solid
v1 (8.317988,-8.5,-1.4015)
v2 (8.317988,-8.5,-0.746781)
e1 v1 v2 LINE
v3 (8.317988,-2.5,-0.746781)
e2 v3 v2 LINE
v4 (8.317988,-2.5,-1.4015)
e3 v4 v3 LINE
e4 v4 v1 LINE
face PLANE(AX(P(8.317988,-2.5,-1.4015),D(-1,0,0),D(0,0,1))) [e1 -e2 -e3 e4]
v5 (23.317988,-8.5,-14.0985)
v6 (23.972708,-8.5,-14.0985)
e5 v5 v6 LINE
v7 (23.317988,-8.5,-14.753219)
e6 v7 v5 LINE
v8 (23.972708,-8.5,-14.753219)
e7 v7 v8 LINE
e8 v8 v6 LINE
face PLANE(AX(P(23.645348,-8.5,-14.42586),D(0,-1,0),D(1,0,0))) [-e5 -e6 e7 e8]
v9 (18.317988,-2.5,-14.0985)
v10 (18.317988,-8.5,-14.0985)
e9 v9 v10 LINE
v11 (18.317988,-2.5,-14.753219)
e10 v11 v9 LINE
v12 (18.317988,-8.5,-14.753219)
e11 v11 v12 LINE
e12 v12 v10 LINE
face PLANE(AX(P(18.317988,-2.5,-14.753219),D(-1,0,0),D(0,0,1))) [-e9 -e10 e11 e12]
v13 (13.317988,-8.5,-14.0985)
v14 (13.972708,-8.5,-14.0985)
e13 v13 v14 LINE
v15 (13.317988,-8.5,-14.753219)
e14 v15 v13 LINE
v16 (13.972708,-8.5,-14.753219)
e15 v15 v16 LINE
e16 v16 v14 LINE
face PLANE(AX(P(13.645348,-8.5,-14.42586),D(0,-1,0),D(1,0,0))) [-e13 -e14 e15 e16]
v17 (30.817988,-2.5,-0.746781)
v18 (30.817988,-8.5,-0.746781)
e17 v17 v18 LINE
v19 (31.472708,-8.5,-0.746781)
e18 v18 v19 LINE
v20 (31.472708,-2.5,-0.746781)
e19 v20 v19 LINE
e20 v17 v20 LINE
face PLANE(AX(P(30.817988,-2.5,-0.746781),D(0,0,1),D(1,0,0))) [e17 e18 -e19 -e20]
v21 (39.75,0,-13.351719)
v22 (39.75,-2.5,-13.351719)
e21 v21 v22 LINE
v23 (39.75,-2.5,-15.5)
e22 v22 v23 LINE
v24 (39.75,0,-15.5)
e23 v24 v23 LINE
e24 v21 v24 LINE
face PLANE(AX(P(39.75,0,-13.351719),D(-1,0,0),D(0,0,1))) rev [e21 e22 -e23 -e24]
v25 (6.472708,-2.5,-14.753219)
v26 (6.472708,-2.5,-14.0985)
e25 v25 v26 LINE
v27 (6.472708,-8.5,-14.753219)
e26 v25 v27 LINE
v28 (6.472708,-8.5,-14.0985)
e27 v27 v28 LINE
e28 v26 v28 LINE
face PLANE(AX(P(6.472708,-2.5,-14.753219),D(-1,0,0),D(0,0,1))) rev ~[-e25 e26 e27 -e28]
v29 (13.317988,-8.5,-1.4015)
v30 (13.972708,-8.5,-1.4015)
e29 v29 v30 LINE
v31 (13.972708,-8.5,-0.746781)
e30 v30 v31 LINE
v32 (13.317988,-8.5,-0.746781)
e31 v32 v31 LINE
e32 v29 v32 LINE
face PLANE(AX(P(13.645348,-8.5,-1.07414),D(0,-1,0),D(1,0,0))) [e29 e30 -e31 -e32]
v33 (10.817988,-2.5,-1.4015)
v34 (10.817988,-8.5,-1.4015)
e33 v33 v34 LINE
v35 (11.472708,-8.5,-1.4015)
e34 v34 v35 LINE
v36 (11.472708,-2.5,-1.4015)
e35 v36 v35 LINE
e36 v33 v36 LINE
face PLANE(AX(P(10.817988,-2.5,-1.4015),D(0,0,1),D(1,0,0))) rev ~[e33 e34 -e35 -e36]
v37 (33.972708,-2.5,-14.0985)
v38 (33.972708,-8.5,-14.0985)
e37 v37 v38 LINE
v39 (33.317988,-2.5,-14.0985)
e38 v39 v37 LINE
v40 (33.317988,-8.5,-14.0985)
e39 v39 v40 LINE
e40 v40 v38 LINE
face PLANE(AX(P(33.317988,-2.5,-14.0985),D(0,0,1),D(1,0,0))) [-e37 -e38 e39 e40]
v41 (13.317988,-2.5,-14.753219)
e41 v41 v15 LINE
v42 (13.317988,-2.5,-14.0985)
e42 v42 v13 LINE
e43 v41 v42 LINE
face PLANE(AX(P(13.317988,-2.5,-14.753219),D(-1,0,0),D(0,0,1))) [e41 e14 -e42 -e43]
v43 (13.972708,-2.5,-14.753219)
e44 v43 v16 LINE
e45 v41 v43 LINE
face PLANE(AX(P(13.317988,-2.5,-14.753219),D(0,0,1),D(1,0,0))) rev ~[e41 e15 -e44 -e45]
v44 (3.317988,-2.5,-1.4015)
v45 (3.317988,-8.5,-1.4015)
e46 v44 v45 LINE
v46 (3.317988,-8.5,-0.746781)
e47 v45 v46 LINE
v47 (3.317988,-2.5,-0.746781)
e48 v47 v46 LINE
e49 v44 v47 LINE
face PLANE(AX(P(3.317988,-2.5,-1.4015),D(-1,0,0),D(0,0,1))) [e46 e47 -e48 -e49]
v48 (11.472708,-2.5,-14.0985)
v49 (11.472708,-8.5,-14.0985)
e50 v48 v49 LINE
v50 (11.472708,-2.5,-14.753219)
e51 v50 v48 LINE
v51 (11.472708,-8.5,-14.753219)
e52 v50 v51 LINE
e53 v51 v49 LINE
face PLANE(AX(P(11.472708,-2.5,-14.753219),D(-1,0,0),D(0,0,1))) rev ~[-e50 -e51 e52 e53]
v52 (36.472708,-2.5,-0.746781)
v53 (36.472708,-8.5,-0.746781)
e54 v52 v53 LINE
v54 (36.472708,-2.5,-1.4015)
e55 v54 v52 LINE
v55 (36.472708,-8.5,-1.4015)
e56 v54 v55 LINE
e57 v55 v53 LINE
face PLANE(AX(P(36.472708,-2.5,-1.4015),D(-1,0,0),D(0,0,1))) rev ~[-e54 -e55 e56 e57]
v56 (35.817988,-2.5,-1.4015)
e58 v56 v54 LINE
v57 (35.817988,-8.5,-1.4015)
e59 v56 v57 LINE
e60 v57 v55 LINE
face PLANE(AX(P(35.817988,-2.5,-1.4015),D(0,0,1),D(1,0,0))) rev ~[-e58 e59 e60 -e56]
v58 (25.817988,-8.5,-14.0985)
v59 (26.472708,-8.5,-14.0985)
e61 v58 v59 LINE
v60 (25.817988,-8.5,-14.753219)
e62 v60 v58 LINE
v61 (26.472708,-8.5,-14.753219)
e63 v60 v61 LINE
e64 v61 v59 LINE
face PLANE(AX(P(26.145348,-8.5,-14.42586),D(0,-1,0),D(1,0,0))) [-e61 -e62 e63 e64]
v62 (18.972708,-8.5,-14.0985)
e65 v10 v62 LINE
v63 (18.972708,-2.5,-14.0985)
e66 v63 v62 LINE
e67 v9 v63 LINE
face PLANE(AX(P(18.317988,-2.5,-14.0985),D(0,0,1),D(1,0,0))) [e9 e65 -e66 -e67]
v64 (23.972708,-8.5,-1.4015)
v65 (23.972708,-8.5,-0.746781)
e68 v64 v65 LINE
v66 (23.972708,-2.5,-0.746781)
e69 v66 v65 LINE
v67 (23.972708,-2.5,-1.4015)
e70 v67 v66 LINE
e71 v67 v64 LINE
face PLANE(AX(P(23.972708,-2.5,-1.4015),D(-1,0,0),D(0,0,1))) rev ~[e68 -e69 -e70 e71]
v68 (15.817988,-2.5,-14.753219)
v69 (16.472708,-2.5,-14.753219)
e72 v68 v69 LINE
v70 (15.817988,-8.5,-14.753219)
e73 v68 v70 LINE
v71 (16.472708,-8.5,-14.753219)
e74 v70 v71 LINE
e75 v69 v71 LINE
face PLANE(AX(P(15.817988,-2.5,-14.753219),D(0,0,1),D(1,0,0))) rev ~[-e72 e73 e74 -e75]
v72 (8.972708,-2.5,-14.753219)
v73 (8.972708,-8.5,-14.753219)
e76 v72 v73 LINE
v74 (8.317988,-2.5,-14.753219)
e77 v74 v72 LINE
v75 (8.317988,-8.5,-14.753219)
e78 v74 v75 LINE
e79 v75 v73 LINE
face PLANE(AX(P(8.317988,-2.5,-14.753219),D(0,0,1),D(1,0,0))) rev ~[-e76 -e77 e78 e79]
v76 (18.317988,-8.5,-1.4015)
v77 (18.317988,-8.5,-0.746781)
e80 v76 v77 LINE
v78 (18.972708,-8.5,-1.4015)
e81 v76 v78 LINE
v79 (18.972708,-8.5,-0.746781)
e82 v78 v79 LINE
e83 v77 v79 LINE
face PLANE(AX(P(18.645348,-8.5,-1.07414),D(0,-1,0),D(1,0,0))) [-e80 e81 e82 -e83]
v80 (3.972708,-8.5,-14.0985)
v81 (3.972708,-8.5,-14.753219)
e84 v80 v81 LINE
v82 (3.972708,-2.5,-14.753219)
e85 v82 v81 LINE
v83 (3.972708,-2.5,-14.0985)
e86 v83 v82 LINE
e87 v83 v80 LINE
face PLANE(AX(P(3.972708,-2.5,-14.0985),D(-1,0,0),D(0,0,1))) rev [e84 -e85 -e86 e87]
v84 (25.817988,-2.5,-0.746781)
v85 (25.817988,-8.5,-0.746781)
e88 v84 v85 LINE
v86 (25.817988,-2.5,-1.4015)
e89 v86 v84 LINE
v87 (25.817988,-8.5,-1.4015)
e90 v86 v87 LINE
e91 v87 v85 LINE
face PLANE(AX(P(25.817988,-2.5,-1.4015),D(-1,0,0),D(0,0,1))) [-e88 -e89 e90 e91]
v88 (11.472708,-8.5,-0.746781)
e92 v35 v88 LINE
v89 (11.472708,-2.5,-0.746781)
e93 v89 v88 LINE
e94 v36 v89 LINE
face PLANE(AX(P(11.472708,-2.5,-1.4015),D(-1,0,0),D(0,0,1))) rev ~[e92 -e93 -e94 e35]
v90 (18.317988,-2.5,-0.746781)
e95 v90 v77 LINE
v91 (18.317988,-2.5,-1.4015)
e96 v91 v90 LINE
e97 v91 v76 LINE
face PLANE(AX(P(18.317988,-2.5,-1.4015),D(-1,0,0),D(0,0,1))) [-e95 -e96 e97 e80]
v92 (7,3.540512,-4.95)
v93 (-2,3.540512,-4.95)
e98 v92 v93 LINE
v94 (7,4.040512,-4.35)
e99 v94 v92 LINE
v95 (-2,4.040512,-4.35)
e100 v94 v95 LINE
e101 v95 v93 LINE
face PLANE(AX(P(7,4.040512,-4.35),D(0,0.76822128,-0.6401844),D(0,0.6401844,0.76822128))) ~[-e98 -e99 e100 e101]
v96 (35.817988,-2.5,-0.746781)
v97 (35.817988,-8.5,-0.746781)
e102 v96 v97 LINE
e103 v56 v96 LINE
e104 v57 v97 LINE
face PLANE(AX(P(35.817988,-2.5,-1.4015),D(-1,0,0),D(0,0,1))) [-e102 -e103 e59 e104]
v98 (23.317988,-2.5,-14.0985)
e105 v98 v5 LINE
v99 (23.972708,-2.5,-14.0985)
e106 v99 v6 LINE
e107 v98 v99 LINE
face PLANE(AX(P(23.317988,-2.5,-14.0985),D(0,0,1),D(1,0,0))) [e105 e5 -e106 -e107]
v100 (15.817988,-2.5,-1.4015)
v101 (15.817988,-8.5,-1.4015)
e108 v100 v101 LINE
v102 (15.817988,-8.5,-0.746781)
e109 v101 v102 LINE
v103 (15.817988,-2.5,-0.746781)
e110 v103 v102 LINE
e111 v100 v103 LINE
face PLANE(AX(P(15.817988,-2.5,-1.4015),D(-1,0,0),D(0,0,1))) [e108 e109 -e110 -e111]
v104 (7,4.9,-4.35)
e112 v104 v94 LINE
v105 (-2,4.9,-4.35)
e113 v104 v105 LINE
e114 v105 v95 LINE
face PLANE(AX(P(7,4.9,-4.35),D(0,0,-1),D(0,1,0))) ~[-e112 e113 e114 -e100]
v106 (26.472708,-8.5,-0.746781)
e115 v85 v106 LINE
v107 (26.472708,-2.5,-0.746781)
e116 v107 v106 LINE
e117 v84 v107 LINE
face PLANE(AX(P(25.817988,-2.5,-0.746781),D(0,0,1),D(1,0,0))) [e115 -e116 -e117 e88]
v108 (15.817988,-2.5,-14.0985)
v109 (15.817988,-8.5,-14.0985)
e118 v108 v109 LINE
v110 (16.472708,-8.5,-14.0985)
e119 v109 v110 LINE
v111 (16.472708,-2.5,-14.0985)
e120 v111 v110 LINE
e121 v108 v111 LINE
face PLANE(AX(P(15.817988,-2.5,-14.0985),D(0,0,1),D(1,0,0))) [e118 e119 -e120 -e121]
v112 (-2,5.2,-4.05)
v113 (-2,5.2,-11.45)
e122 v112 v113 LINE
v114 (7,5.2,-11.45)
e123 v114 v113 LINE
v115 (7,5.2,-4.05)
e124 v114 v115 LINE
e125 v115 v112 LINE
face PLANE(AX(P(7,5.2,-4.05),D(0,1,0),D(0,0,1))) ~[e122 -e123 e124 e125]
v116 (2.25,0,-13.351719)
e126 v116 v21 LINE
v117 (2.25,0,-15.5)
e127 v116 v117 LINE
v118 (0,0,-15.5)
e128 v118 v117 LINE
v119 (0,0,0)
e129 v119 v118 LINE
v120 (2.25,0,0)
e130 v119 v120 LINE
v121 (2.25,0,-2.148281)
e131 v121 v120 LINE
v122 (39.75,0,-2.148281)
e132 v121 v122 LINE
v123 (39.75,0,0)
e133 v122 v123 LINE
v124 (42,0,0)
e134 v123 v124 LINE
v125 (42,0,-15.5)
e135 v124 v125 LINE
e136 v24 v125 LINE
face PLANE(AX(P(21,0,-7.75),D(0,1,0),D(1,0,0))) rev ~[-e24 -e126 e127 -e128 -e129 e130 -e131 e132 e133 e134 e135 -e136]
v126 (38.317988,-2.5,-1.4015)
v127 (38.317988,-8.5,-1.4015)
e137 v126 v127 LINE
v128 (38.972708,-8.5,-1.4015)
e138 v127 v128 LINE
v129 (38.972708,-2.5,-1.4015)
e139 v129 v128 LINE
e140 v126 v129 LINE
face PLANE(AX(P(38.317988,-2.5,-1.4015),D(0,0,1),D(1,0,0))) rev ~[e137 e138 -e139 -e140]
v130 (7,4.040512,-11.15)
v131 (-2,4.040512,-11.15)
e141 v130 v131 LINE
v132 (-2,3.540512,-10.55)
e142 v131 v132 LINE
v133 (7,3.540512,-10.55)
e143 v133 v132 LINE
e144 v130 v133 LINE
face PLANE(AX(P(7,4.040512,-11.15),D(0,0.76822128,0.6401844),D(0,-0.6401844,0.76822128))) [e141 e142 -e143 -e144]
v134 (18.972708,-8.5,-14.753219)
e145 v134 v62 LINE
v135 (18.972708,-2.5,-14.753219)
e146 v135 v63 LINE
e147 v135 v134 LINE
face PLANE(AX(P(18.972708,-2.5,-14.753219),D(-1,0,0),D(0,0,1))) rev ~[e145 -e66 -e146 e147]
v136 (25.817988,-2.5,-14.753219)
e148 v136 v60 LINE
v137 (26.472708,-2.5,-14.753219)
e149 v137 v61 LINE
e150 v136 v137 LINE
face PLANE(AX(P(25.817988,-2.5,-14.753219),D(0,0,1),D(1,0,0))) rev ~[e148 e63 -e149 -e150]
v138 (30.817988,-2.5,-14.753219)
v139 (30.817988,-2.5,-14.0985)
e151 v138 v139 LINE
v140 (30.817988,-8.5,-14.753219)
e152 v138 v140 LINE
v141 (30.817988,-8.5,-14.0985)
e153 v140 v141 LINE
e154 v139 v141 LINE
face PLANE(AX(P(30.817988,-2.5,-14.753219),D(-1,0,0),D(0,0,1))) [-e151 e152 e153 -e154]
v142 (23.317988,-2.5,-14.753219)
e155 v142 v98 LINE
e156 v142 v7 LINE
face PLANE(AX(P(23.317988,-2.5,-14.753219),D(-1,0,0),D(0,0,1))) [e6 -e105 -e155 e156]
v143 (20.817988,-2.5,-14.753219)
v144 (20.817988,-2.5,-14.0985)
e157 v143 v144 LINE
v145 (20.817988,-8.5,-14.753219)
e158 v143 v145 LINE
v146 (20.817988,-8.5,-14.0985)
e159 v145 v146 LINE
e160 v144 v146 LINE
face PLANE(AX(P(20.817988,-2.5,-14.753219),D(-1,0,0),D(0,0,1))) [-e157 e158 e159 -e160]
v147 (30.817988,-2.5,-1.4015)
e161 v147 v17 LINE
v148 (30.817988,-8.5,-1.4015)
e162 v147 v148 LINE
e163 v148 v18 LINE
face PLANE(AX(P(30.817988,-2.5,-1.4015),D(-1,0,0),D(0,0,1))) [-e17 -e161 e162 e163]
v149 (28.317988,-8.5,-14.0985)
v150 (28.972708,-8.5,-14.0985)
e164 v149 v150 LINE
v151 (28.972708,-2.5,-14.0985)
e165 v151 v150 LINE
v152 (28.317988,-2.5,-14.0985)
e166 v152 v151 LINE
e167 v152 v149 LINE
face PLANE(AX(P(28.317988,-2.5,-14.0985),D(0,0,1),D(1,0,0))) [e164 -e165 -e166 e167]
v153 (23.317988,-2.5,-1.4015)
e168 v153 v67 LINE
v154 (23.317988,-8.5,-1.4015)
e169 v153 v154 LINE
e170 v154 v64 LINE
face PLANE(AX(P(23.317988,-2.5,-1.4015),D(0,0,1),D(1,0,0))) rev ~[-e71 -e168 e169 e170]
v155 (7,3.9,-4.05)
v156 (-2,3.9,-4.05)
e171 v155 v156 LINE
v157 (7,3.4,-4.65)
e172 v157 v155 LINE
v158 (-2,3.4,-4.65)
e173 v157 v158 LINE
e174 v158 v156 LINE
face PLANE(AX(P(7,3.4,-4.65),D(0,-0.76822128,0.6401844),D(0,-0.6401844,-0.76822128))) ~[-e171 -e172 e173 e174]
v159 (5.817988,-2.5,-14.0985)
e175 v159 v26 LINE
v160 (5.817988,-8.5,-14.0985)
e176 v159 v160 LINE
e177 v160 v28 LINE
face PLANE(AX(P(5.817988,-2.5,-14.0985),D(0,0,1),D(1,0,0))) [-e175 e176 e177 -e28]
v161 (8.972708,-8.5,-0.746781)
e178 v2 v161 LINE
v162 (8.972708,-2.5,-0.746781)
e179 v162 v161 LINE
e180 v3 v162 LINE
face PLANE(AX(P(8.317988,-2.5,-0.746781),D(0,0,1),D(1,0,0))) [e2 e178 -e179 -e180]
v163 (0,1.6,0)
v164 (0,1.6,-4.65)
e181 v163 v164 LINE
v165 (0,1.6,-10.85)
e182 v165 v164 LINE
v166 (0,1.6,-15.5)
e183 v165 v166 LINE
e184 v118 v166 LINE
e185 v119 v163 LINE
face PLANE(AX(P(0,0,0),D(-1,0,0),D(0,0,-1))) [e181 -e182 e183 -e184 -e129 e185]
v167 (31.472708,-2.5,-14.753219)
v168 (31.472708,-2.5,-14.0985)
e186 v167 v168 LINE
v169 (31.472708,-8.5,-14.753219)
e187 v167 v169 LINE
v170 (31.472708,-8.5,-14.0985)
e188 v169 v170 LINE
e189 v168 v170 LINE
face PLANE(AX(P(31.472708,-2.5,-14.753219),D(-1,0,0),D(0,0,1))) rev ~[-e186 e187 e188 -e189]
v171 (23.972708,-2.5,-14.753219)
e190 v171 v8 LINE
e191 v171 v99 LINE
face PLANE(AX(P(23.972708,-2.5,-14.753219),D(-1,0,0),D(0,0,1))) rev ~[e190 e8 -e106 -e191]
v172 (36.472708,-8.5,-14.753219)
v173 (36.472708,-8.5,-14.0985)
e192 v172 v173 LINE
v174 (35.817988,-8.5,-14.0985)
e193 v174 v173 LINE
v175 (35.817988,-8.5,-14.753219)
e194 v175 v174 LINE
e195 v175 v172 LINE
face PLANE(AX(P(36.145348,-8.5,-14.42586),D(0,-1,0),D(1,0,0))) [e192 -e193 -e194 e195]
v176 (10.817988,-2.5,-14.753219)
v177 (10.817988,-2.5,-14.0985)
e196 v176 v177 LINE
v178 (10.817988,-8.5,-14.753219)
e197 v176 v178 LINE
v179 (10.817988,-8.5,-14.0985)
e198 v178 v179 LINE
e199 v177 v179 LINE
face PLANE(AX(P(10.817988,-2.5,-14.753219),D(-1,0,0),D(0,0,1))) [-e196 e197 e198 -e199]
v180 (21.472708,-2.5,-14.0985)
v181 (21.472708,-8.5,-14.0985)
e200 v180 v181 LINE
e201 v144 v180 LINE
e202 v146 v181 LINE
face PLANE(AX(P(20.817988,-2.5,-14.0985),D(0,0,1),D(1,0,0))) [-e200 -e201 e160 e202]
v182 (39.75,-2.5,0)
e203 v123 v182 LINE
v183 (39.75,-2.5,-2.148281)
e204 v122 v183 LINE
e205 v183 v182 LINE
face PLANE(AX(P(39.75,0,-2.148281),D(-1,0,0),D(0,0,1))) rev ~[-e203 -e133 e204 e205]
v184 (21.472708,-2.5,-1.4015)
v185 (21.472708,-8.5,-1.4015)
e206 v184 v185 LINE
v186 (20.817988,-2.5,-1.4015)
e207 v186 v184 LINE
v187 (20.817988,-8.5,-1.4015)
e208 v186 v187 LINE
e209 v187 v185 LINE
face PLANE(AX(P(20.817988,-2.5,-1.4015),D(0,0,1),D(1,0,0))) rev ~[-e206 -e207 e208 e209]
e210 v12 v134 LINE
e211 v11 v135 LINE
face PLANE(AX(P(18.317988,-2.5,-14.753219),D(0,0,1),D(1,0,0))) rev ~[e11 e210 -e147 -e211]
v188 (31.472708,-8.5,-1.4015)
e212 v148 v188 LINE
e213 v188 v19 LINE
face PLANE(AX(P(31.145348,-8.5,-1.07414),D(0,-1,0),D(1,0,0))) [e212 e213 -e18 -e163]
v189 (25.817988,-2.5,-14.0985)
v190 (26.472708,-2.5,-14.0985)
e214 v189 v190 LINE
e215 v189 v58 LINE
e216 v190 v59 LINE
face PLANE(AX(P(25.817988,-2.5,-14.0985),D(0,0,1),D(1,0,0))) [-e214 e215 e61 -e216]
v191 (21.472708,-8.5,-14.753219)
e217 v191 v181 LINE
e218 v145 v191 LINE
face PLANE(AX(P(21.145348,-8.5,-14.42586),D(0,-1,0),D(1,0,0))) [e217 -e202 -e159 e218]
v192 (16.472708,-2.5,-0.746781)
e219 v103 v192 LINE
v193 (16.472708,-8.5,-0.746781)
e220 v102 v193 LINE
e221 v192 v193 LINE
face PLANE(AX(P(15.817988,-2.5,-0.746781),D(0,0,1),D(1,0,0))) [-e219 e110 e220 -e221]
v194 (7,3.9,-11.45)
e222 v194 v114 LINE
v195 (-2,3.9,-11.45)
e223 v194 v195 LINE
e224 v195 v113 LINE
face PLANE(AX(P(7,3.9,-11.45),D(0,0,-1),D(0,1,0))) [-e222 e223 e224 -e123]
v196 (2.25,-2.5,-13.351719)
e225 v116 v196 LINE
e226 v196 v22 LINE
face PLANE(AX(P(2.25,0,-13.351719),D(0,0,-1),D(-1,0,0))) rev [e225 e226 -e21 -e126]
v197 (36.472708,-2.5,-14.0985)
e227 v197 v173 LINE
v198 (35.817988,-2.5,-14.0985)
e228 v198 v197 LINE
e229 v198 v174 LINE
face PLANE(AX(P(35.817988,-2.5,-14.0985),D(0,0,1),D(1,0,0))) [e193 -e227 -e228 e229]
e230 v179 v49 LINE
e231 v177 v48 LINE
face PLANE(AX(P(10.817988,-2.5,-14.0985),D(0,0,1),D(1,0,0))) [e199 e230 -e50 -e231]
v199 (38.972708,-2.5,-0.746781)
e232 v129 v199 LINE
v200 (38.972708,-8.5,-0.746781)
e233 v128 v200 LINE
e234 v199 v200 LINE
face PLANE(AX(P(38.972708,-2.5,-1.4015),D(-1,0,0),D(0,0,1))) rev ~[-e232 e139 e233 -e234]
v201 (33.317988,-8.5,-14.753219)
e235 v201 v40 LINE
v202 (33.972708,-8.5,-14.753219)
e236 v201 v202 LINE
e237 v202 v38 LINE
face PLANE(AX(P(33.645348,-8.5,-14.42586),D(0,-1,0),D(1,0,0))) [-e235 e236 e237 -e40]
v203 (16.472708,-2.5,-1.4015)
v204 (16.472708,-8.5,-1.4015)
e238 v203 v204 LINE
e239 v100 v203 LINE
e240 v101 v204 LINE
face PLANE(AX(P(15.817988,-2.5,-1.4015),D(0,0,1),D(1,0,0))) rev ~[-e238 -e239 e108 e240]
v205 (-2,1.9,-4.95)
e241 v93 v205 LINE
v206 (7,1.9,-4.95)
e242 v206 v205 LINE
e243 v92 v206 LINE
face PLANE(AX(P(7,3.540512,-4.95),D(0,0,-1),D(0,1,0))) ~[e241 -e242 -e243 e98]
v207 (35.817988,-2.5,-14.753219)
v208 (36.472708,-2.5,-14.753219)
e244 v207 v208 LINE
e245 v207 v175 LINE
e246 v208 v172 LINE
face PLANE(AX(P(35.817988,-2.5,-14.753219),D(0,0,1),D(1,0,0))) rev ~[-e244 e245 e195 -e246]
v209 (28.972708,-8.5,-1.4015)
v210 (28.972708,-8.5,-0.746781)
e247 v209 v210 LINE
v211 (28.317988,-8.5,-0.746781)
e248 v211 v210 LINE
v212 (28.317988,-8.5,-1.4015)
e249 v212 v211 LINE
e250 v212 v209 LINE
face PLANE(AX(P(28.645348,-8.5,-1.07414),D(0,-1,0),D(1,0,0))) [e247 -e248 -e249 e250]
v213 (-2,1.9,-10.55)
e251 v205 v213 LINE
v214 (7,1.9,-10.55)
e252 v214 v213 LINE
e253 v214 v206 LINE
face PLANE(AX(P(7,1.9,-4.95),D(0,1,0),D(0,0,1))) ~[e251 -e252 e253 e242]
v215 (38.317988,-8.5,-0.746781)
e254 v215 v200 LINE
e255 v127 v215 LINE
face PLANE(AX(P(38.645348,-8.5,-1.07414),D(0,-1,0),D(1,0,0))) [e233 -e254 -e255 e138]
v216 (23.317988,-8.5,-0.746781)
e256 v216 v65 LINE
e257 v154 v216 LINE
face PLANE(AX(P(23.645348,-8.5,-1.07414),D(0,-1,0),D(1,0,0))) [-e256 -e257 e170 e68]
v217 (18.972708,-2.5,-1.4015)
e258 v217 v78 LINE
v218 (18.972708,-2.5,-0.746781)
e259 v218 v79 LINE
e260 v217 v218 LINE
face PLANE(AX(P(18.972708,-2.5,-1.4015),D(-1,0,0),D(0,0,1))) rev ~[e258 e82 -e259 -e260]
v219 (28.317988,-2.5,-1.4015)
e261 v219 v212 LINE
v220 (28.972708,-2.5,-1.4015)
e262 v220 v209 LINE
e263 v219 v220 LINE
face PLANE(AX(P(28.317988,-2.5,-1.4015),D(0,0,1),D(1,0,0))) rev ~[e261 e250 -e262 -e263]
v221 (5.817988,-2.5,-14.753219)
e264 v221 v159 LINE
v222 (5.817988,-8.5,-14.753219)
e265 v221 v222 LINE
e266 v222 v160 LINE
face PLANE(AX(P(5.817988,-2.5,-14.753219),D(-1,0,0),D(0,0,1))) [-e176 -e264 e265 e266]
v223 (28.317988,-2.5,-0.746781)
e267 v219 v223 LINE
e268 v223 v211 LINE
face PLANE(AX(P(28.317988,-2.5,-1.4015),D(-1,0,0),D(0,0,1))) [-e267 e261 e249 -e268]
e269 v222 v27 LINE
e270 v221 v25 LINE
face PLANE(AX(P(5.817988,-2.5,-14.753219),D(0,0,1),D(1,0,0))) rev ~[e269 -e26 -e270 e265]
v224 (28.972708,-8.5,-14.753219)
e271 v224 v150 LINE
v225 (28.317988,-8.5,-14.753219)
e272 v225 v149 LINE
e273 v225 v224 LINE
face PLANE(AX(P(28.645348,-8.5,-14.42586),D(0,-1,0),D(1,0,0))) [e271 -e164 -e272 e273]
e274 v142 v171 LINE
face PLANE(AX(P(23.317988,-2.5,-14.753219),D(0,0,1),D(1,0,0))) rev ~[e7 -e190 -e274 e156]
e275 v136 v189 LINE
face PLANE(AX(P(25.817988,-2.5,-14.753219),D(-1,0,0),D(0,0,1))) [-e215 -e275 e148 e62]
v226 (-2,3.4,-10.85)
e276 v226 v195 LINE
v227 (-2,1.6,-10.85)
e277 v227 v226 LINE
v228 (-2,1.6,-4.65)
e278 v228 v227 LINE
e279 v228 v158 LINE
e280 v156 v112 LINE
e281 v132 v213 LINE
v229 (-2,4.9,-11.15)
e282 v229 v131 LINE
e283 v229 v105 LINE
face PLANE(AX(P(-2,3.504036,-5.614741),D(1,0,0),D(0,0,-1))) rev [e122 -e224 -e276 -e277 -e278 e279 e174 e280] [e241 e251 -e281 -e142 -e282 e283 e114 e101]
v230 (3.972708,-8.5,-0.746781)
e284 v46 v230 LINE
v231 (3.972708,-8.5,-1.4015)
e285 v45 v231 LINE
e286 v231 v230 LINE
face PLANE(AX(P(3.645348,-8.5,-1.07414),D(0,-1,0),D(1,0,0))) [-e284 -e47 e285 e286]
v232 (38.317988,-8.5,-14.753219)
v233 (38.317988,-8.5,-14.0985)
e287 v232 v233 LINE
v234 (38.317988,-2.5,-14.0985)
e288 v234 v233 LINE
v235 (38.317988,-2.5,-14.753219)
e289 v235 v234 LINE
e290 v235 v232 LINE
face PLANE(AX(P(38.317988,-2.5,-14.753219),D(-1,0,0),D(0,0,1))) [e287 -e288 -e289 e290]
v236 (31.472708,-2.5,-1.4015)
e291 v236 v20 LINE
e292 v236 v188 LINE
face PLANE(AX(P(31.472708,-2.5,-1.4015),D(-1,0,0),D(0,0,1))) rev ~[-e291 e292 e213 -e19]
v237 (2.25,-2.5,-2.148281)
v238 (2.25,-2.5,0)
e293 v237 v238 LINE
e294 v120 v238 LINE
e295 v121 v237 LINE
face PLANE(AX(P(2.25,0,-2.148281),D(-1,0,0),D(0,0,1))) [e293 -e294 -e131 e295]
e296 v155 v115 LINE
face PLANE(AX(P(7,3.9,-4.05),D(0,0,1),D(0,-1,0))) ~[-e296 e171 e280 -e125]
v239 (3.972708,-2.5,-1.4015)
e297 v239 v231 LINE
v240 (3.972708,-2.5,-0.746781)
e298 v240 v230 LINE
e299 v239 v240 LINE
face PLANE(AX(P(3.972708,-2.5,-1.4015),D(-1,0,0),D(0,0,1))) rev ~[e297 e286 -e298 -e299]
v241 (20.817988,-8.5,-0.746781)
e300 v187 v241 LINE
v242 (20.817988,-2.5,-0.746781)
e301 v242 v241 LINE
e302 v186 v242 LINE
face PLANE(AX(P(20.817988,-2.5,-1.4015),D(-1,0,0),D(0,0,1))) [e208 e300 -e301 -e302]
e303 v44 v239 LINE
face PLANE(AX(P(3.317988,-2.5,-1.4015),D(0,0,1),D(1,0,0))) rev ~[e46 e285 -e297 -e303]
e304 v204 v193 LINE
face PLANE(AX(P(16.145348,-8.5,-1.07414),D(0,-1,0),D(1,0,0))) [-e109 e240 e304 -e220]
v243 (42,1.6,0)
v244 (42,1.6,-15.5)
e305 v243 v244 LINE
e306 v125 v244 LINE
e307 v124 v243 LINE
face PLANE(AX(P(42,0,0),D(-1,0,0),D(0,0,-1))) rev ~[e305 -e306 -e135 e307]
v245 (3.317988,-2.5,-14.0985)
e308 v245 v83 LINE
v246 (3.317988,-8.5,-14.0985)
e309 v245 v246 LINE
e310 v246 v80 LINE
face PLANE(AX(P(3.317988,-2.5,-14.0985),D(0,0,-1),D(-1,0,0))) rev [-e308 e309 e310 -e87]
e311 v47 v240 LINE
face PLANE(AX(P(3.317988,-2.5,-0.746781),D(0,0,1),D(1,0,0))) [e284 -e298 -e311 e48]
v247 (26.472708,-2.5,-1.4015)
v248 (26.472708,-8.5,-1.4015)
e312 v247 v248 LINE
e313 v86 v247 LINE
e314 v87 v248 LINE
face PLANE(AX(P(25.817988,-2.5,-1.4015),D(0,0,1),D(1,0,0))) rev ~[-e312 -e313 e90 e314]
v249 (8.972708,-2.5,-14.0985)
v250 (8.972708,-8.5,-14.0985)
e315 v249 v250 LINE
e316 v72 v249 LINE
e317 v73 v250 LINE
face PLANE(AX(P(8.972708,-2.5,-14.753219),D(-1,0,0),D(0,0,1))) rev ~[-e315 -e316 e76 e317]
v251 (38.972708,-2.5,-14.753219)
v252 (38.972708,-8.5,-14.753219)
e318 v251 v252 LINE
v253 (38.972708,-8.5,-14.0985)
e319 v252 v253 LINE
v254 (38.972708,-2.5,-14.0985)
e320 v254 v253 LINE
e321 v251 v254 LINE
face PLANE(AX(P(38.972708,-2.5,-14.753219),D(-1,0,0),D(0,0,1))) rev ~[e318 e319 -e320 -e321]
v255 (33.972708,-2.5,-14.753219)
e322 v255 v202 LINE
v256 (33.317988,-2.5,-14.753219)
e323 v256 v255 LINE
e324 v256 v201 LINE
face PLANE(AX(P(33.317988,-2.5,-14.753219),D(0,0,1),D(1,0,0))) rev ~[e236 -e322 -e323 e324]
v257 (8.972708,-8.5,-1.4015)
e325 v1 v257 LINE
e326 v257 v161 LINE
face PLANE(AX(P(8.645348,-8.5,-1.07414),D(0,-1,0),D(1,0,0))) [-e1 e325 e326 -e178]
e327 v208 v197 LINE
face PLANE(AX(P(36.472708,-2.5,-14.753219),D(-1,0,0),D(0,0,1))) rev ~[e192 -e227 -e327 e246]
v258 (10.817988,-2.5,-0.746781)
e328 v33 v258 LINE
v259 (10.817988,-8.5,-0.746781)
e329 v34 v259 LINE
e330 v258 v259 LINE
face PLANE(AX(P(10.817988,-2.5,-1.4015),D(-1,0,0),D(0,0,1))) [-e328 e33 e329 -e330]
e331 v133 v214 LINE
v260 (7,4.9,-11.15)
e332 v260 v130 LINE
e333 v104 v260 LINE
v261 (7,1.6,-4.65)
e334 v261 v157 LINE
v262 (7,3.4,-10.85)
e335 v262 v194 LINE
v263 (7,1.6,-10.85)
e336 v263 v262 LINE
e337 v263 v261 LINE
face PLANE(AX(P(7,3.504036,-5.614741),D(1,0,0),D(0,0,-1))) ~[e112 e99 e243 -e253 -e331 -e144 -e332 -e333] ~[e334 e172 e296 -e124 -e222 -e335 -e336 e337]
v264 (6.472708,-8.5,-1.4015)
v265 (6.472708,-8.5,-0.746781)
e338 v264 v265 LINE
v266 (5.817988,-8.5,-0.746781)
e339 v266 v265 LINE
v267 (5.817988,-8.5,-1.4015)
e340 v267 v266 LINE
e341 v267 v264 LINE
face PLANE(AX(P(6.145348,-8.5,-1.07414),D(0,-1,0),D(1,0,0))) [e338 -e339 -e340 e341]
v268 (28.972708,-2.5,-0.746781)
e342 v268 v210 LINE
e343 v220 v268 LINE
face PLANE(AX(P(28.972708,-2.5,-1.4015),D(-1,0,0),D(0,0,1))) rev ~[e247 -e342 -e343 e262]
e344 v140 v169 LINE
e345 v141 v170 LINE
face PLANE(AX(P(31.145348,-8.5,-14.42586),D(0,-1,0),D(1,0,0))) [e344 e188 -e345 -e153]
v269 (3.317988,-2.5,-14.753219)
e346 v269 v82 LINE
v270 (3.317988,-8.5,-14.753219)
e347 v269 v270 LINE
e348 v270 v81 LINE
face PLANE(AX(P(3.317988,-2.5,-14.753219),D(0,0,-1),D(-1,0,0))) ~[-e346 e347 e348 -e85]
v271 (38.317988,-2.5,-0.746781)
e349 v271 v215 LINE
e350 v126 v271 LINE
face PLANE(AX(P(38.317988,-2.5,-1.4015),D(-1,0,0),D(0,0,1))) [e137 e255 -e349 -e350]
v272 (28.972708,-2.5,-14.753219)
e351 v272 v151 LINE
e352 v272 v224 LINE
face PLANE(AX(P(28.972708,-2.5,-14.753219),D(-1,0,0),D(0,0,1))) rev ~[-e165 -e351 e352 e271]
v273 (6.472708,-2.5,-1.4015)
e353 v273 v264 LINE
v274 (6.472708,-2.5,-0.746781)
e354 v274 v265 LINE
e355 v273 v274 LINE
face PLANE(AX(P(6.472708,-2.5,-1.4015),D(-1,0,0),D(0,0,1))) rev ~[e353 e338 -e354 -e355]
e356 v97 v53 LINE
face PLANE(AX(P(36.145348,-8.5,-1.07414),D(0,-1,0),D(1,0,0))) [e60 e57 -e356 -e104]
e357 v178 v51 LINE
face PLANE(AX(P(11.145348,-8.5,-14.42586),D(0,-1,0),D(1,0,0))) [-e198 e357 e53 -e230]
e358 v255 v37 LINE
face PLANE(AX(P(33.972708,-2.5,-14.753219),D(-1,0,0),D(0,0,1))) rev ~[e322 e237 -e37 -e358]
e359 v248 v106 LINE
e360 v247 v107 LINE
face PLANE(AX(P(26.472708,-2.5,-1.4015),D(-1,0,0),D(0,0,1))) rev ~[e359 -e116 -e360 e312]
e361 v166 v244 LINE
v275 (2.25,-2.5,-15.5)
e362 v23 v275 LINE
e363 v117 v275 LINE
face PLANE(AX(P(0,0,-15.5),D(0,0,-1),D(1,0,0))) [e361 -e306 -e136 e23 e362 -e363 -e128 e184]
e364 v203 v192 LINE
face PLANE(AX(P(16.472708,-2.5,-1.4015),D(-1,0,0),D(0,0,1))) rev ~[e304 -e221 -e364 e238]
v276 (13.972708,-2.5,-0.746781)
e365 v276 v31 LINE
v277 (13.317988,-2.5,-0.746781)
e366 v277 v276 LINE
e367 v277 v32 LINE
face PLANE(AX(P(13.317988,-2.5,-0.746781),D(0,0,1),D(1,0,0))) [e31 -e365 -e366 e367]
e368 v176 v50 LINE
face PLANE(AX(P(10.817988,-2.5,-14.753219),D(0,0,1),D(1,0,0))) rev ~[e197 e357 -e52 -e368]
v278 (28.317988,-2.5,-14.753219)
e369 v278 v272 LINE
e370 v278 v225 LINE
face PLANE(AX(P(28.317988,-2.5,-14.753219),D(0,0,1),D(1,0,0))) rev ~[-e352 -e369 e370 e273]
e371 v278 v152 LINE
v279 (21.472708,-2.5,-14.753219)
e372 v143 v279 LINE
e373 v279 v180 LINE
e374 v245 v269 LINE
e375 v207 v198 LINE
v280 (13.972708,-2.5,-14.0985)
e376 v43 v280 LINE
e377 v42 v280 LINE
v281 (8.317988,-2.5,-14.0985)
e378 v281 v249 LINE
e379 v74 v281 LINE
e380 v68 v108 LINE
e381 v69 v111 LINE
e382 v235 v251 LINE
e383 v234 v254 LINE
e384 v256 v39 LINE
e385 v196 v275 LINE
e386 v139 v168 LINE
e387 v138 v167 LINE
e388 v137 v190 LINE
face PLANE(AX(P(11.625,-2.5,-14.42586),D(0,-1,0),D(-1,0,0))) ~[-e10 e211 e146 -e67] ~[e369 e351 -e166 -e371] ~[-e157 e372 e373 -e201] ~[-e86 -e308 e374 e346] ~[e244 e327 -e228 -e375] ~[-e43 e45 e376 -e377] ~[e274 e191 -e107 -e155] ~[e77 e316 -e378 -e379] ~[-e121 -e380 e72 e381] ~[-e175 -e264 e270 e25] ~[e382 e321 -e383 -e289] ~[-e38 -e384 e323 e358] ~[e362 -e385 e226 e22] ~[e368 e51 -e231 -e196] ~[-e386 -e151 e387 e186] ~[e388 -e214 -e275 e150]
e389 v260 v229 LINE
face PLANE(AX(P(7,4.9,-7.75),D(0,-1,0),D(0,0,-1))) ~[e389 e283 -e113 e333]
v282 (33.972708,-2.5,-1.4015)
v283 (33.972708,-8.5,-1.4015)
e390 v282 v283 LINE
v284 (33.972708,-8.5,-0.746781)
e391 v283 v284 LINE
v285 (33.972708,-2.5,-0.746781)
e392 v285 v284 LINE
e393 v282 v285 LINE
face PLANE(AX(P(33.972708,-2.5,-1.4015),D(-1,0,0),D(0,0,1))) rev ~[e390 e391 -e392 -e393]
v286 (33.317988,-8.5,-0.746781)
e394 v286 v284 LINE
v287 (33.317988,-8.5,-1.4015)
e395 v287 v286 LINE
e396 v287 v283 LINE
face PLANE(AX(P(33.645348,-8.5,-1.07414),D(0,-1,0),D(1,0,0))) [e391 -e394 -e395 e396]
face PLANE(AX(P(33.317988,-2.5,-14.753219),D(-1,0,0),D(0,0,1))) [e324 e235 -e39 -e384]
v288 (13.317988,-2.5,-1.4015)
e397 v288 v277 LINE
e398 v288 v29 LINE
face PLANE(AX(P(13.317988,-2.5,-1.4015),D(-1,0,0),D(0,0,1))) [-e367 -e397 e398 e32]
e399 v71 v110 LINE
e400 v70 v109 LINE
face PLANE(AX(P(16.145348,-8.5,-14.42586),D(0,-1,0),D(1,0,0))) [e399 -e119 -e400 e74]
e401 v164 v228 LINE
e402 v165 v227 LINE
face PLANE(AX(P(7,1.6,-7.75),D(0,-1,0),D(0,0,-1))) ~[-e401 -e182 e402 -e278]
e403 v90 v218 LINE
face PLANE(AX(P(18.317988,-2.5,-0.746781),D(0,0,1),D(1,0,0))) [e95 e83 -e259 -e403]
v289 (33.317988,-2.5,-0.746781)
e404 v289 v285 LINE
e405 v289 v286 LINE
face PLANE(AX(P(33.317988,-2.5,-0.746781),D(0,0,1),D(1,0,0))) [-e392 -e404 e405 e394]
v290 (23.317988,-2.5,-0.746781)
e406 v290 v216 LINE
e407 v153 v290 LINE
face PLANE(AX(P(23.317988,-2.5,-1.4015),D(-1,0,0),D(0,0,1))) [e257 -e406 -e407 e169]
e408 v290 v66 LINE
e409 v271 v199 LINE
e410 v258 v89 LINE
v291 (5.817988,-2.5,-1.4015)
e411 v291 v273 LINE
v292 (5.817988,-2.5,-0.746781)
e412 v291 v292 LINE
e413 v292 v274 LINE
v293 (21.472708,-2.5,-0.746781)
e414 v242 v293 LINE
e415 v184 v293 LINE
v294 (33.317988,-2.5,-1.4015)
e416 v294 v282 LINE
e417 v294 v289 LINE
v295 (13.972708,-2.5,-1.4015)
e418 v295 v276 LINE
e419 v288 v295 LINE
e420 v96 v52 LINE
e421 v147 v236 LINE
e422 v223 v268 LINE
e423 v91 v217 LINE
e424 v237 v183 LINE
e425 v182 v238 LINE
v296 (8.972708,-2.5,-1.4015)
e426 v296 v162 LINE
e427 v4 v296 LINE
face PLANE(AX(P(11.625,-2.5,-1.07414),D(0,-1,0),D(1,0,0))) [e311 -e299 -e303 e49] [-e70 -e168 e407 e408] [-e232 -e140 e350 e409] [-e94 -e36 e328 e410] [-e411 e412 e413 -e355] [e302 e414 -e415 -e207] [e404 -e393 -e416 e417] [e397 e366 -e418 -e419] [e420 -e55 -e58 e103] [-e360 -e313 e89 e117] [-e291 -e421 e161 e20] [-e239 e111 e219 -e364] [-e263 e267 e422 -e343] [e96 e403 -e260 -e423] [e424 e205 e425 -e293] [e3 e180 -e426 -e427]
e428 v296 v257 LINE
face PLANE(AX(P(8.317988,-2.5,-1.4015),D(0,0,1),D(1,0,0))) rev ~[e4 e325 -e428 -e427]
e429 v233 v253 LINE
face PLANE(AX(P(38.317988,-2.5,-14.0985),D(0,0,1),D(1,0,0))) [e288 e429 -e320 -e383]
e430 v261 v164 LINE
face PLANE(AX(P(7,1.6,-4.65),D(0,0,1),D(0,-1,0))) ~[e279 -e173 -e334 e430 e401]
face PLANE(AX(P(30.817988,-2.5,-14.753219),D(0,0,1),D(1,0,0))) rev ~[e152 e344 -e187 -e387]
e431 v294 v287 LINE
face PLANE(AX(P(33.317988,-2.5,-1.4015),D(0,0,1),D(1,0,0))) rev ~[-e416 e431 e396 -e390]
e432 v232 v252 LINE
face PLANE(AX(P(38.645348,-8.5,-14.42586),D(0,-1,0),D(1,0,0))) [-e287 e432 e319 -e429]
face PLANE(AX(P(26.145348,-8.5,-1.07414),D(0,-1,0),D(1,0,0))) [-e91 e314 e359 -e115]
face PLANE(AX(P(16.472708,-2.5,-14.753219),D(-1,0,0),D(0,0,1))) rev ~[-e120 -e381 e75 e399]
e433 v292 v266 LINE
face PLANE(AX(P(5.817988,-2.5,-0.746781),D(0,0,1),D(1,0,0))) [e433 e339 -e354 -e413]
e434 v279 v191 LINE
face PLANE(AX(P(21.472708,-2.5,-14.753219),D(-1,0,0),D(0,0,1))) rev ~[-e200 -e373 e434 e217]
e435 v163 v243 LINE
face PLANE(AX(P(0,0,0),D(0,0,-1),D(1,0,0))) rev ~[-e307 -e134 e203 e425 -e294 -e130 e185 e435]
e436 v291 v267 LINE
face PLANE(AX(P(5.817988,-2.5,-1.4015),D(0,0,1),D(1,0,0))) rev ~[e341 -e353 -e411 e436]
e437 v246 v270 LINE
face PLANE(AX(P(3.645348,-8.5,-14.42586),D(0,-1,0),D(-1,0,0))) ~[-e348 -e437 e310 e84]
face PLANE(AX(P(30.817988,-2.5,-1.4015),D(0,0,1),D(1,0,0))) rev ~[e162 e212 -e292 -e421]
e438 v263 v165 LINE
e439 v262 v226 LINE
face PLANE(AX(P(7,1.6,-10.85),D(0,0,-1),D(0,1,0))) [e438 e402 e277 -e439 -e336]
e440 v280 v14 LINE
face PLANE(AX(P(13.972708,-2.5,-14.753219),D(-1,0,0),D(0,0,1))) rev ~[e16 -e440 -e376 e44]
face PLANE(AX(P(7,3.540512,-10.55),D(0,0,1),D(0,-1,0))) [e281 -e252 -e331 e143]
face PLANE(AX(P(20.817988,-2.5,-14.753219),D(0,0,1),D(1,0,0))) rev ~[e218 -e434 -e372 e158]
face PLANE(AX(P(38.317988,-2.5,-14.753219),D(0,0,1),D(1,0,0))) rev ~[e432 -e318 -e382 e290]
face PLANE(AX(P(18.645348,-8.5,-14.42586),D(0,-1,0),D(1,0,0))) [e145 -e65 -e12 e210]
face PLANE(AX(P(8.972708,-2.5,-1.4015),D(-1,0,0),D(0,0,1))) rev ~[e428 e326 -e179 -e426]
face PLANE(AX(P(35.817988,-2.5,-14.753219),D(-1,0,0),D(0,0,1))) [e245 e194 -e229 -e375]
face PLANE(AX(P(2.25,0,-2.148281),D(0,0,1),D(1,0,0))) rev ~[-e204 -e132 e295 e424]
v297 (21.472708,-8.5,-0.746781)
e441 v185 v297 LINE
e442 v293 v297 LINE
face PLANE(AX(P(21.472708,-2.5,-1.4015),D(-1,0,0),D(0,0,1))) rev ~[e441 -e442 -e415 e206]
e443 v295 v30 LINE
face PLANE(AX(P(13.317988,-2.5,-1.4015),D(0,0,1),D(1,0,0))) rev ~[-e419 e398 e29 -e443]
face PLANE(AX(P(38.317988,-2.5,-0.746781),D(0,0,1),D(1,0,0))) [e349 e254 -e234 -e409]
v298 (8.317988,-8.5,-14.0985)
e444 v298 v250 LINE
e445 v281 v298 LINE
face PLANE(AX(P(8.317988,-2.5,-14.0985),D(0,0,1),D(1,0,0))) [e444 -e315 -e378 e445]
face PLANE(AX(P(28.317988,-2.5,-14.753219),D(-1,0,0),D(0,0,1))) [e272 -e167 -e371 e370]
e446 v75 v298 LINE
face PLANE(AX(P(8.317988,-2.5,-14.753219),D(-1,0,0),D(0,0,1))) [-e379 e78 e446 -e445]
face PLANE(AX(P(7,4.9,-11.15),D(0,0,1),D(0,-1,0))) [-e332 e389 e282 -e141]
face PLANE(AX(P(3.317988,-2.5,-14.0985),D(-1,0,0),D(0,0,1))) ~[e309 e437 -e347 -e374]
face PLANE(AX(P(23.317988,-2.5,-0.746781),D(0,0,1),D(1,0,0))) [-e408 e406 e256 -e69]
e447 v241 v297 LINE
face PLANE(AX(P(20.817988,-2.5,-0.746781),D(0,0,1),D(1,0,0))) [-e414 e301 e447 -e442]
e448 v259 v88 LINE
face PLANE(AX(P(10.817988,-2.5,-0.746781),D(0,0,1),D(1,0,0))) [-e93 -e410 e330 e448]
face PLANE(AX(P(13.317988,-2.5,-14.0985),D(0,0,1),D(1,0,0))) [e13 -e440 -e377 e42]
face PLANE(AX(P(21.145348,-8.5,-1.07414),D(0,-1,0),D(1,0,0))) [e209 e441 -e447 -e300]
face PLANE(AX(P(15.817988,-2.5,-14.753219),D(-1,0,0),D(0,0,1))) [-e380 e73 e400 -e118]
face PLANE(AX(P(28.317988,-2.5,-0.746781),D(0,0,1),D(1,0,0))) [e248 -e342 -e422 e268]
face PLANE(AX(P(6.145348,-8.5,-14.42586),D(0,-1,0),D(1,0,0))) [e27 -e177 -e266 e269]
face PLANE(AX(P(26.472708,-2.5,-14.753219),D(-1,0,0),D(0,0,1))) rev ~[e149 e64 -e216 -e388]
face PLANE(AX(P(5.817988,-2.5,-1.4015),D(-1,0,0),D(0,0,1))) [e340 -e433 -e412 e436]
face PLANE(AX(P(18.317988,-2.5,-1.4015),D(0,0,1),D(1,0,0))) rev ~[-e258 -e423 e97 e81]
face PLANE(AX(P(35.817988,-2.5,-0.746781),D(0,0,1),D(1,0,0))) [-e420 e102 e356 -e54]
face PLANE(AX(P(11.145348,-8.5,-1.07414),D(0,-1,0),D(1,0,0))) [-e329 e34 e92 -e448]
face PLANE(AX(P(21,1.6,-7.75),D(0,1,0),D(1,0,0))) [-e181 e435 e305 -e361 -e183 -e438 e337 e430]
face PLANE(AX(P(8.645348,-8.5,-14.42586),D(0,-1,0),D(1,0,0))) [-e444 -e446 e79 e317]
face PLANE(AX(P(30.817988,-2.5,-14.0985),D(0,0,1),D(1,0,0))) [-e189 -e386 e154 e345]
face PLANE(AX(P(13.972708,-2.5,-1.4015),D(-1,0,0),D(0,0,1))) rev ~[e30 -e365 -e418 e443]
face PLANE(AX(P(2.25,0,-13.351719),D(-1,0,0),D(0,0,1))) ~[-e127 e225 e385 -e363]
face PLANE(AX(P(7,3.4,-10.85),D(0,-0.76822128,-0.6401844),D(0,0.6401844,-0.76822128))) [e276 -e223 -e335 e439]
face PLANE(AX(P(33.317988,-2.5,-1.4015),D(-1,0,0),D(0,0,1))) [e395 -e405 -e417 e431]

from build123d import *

# Parameters (mm, degrees)
SKETCH1_W                = 42
SKETCH1_H                = 15.5
BOSS_EXTRUDE1_DEPTH      = 1.6
EXTRUDE_THIN1_START      = -7
EXTRUDE_THIN1_DEPTH      = 9
SKETCH3_W                = 18.75
SKETCH3_H                = 2.148280867
BOSS_EXTRUDE2_DEPTH      = 2.5
SKETCH4_W                = 0.654719532
SKETCH4_H                = 0.654719531
BOSS_EXTRUDE3_DEPTH      = 6
LPATTERN1_COUNT          = 15
LPATTERN1_PITCH          = 2.5
MIRROR4_COPY_1_SKETCH_W  = 0.654719532
MIRROR4_COPY_1_SKETCH_H  = 0.654719531
MIRROR4_COPY_1_DEPTH     = 6
MIRROR4_COPY_2_SKETCH_W  = 0.654719532
MIRROR4_COPY_2_SKETCH_H  = 0.654719531
MIRROR4_COPY_2_DEPTH     = 6
MIRROR4_COPY_3_SKETCH_W  = 0.654719532
MIRROR4_COPY_3_SKETCH_H  = 0.654719531
MIRROR4_COPY_3_DEPTH     = 6
MIRROR4_COPY_4_SKETCH_W  = 0.654719532
MIRROR4_COPY_4_SKETCH_H  = 0.654719531
MIRROR4_COPY_4_DEPTH     = 6
MIRROR4_COPY_5_SKETCH_W  = 0.654719532
MIRROR4_COPY_5_SKETCH_H  = 0.654719531
MIRROR4_COPY_5_DEPTH     = 6
MIRROR4_COPY_6_SKETCH_W  = 0.654719532
MIRROR4_COPY_6_SKETCH_H  = 0.654719531
MIRROR4_COPY_6_DEPTH     = 6
MIRROR4_COPY_7_SKETCH_W  = 0.654719532
MIRROR4_COPY_7_SKETCH_H  = 0.654719531
MIRROR4_COPY_7_DEPTH     = 6
MIRROR4_COPY_8_SKETCH_W  = 0.654719532
MIRROR4_COPY_8_SKETCH_H  = 0.654719531
MIRROR4_COPY_8_DEPTH     = 6
MIRROR4_COPY_9_SKETCH_W  = 0.654719532
MIRROR4_COPY_9_SKETCH_H  = 0.654719531
MIRROR4_COPY_9_DEPTH     = 6
MIRROR4_COPY_10_SKETCH_W = 0.654719532
MIRROR4_COPY_10_SKETCH_H = 0.654719531
MIRROR4_COPY_10_DEPTH    = 6
MIRROR4_COPY_11_SKETCH_W = 0.654719532
MIRROR4_COPY_11_SKETCH_H = 0.654719531
MIRROR4_COPY_11_DEPTH    = 6
MIRROR4_COPY_12_SKETCH_W = 0.654719532
MIRROR4_COPY_12_SKETCH_H = 0.654719531
MIRROR4_COPY_12_DEPTH    = 6
MIRROR4_COPY_13_SKETCH_W = 0.654719532
MIRROR4_COPY_13_SKETCH_H = 0.654719531
MIRROR4_COPY_13_DEPTH    = 6
MIRROR4_COPY_14_SKETCH_W = 0.654719532
MIRROR4_COPY_14_SKETCH_H = 0.654719531
MIRROR4_COPY_14_DEPTH    = 6


with BuildPart() as part:
    # Sketch1 → Boss-Extrude1 (new body)
    with BuildSketch(Plane(origin=(0, 0, 0), x_dir=(1, 0, 0), z_dir=(0, 1, 0))):
        with Locations((21, 7.75)):
            Rectangle(SKETCH1_W, SKETCH1_H)
    extrude(amount=BOSS_EXTRUDE1_DEPTH)

    # Sketch2 → Extrude-Thin1 (add)
    with BuildSketch(Plane.ZY.offset(EXTRUDE_THIN1_START)):
        Polygon((-7.75, 1.6), (-10.85, 1.6), (-10.85, 3.4), (-11.45, 3.9), (-11.45, 5.2), (-7.75, 5.2), (-7.75, 4.9), (-11.15, 4.9), (-11.15, 4.040512484), (-10.55, 3.540512484), (-10.55, 1.9), (-7.75, 1.9), align=None)
    extrude_thin1 = extrude(amount=EXTRUDE_THIN1_DEPTH)

    # Mirror1: Extrude-Thin1 across plane
    add(extrude_thin1.mirror(Plane.XY.offset(-7.75)))

    # Sketch3 → Boss-Extrude2 (add)
    with BuildSketch(Plane.XZ):
        with Locations((11.625, -1.074140433)):
            Rectangle(SKETCH3_W, SKETCH3_H)
        with Locations((30.375, -1.074140433)):
            Rectangle(SKETCH3_W, SKETCH3_H)
    boss_extrude2 = extrude(amount=BOSS_EXTRUDE2_DEPTH)

    # Sketch4 → Boss-Extrude3 (add)
    with BuildSketch(Plane.XZ.offset(2.5)):
        with Locations((3.64534799, -1.074140433)):
            Rectangle(SKETCH4_W, SKETCH4_H)
    boss_extrude3 = extrude(amount=BOSS_EXTRUDE3_DEPTH)

    # LPattern1: Boss-Extrude3 ×15
    with Locations(*[(i * LPATTERN1_PITCH, 0, 0) for i in range(1, LPATTERN1_COUNT)]):
        add(boss_extrude3)

    # Mirror3: Boss-Extrude2 across plane
    add(boss_extrude2.mirror(Plane.XY.offset(-7.75)))

    # Mirror4: Boss-Extrude3 across plane
    add(boss_extrude3.mirror(Plane.XY.offset(-7.75)))

    # Mirror4 copy 1 sketch → Mirror4 copy 1 (add)
    with BuildSketch(Plane(origin=(2.5, -2.5, -15.5), x_dir=(1, 0, 0), z_dir=(0, -1, 0))):
        with Locations((3.64534799, 1.074140433)):
            Rectangle(MIRROR4_COPY_1_SKETCH_W, MIRROR4_COPY_1_SKETCH_H)
    extrude(amount=MIRROR4_COPY_1_DEPTH)

    # Mirror4 copy 2 sketch → Mirror4 copy 2 (add)
    with BuildSketch(Plane(origin=(5, -2.5, -15.5), x_dir=(1, 0, 0), z_dir=(0, -1, 0))):
        with Locations((3.64534799, 1.074140433)):
            Rectangle(MIRROR4_COPY_2_SKETCH_W, MIRROR4_COPY_2_SKETCH_H)
    extrude(amount=MIRROR4_COPY_2_DEPTH)

    # Mirror4 copy 3 sketch → Mirror4 copy 3 (add)
    with BuildSketch(Plane(origin=(7.5, -2.5, -15.5), x_dir=(1, 0, 0), z_dir=(0, -1, 0))):
        with Locations((3.64534799, 1.074140433)):
            Rectangle(MIRROR4_COPY_3_SKETCH_W, MIRROR4_COPY_3_SKETCH_H)
    extrude(amount=MIRROR4_COPY_3_DEPTH)

    # Mirror4 copy 4 sketch → Mirror4 copy 4 (add)
    with BuildSketch(Plane(origin=(10, -2.5, -15.5), x_dir=(1, 0, 0), z_dir=(0, -1, 0))):
        with Locations((3.64534799, 1.074140433)):
            Rectangle(MIRROR4_COPY_4_SKETCH_W, MIRROR4_COPY_4_SKETCH_H)
    extrude(amount=MIRROR4_COPY_4_DEPTH)

    # Mirror4 copy 5 sketch → Mirror4 copy 5 (add)
    with BuildSketch(Plane(origin=(12.5, -2.5, -15.5), x_dir=(1, 0, 0), z_dir=(0, -1, 0))):
        with Locations((3.64534799, 1.074140433)):
            Rectangle(MIRROR4_COPY_5_SKETCH_W, MIRROR4_COPY_5_SKETCH_H)
    extrude(amount=MIRROR4_COPY_5_DEPTH)

    # Mirror4 copy 6 sketch → Mirror4 copy 6 (add)
    with BuildSketch(Plane(origin=(15, -2.5, -15.5), x_dir=(1, 0, 0), z_dir=(0, -1, 0))):
        with Locations((3.64534799, 1.074140433)):
            Rectangle(MIRROR4_COPY_6_SKETCH_W, MIRROR4_COPY_6_SKETCH_H)
    extrude(amount=MIRROR4_COPY_6_DEPTH)

    # Mirror4 copy 7 sketch → Mirror4 copy 7 (add)
    with BuildSketch(Plane(origin=(17.5, -2.5, -15.5), x_dir=(1, 0, 0), z_dir=(0, -1, 0))):
        with Locations((3.64534799, 1.074140433)):
            Rectangle(MIRROR4_COPY_7_SKETCH_W, MIRROR4_COPY_7_SKETCH_H)
    extrude(amount=MIRROR4_COPY_7_DEPTH)

    # Mirror4 copy 8 sketch → Mirror4 copy 8 (add)
    with BuildSketch(Plane(origin=(20, -2.5, -15.5), x_dir=(1, 0, 0), z_dir=(0, -1, 0))):
        with Locations((3.64534799, 1.074140433)):
            Rectangle(MIRROR4_COPY_8_SKETCH_W, MIRROR4_COPY_8_SKETCH_H)
    extrude(amount=MIRROR4_COPY_8_DEPTH)

    # Mirror4 copy 9 sketch → Mirror4 copy 9 (add)
    with BuildSketch(Plane(origin=(22.5, -2.5, -15.5), x_dir=(1, 0, 0), z_dir=(0, -1, 0))):
        with Locations((3.64534799, 1.074140433)):
            Rectangle(MIRROR4_COPY_9_SKETCH_W, MIRROR4_COPY_9_SKETCH_H)
    extrude(amount=MIRROR4_COPY_9_DEPTH)

    # Mirror4 copy 10 sketch → Mirror4 copy 10 (add)
    with BuildSketch(Plane(origin=(25, -2.5, -15.5), x_dir=(1, 0, 0), z_dir=(0, -1, 0))):
        with Locations((3.64534799, 1.074140433)):
            Rectangle(MIRROR4_COPY_10_SKETCH_W, MIRROR4_COPY_10_SKETCH_H)
    extrude(amount=MIRROR4_COPY_10_DEPTH)

    # Mirror4 copy 11 sketch → Mirror4 copy 11 (add)
    with BuildSketch(Plane(origin=(27.5, -2.5, -15.5), x_dir=(1, 0, 0), z_dir=(0, -1, 0))):
        with Locations((3.64534799, 1.074140433)):
            Rectangle(MIRROR4_COPY_11_SKETCH_W, MIRROR4_COPY_11_SKETCH_H)
    extrude(amount=MIRROR4_COPY_11_DEPTH)

    # Mirror4 copy 12 sketch → Mirror4 copy 12 (add)
    with BuildSketch(Plane(origin=(30, -2.5, -15.5), x_dir=(1, 0, 0), z_dir=(0, -1, 0))):
        with Locations((3.64534799, 1.074140433)):
            Rectangle(MIRROR4_COPY_12_SKETCH_W, MIRROR4_COPY_12_SKETCH_H)
    extrude(amount=MIRROR4_COPY_12_DEPTH)

    # Mirror4 copy 13 sketch → Mirror4 copy 13 (add)
    with BuildSketch(Plane(origin=(32.5, -2.5, -15.5), x_dir=(1, 0, 0), z_dir=(0, -1, 0))):
        with Locations((3.64534799, 1.074140433)):
            Rectangle(MIRROR4_COPY_13_SKETCH_W, MIRROR4_COPY_13_SKETCH_H)
    extrude(amount=MIRROR4_COPY_13_DEPTH)

    # Mirror4 copy 14 sketch → Mirror4 copy 14 (add)
    with BuildSketch(Plane(origin=(35, -2.5, -15.5), x_dir=(1, 0, 0), z_dir=(0, -1, 0))):
        with Locations((3.64534799, 1.074140433)):
            Rectangle(MIRROR4_COPY_14_SKETCH_W, MIRROR4_COPY_14_SKETCH_H)
    extrude(amount=MIRROR4_COPY_14_DEPTH)


solid = part.part
